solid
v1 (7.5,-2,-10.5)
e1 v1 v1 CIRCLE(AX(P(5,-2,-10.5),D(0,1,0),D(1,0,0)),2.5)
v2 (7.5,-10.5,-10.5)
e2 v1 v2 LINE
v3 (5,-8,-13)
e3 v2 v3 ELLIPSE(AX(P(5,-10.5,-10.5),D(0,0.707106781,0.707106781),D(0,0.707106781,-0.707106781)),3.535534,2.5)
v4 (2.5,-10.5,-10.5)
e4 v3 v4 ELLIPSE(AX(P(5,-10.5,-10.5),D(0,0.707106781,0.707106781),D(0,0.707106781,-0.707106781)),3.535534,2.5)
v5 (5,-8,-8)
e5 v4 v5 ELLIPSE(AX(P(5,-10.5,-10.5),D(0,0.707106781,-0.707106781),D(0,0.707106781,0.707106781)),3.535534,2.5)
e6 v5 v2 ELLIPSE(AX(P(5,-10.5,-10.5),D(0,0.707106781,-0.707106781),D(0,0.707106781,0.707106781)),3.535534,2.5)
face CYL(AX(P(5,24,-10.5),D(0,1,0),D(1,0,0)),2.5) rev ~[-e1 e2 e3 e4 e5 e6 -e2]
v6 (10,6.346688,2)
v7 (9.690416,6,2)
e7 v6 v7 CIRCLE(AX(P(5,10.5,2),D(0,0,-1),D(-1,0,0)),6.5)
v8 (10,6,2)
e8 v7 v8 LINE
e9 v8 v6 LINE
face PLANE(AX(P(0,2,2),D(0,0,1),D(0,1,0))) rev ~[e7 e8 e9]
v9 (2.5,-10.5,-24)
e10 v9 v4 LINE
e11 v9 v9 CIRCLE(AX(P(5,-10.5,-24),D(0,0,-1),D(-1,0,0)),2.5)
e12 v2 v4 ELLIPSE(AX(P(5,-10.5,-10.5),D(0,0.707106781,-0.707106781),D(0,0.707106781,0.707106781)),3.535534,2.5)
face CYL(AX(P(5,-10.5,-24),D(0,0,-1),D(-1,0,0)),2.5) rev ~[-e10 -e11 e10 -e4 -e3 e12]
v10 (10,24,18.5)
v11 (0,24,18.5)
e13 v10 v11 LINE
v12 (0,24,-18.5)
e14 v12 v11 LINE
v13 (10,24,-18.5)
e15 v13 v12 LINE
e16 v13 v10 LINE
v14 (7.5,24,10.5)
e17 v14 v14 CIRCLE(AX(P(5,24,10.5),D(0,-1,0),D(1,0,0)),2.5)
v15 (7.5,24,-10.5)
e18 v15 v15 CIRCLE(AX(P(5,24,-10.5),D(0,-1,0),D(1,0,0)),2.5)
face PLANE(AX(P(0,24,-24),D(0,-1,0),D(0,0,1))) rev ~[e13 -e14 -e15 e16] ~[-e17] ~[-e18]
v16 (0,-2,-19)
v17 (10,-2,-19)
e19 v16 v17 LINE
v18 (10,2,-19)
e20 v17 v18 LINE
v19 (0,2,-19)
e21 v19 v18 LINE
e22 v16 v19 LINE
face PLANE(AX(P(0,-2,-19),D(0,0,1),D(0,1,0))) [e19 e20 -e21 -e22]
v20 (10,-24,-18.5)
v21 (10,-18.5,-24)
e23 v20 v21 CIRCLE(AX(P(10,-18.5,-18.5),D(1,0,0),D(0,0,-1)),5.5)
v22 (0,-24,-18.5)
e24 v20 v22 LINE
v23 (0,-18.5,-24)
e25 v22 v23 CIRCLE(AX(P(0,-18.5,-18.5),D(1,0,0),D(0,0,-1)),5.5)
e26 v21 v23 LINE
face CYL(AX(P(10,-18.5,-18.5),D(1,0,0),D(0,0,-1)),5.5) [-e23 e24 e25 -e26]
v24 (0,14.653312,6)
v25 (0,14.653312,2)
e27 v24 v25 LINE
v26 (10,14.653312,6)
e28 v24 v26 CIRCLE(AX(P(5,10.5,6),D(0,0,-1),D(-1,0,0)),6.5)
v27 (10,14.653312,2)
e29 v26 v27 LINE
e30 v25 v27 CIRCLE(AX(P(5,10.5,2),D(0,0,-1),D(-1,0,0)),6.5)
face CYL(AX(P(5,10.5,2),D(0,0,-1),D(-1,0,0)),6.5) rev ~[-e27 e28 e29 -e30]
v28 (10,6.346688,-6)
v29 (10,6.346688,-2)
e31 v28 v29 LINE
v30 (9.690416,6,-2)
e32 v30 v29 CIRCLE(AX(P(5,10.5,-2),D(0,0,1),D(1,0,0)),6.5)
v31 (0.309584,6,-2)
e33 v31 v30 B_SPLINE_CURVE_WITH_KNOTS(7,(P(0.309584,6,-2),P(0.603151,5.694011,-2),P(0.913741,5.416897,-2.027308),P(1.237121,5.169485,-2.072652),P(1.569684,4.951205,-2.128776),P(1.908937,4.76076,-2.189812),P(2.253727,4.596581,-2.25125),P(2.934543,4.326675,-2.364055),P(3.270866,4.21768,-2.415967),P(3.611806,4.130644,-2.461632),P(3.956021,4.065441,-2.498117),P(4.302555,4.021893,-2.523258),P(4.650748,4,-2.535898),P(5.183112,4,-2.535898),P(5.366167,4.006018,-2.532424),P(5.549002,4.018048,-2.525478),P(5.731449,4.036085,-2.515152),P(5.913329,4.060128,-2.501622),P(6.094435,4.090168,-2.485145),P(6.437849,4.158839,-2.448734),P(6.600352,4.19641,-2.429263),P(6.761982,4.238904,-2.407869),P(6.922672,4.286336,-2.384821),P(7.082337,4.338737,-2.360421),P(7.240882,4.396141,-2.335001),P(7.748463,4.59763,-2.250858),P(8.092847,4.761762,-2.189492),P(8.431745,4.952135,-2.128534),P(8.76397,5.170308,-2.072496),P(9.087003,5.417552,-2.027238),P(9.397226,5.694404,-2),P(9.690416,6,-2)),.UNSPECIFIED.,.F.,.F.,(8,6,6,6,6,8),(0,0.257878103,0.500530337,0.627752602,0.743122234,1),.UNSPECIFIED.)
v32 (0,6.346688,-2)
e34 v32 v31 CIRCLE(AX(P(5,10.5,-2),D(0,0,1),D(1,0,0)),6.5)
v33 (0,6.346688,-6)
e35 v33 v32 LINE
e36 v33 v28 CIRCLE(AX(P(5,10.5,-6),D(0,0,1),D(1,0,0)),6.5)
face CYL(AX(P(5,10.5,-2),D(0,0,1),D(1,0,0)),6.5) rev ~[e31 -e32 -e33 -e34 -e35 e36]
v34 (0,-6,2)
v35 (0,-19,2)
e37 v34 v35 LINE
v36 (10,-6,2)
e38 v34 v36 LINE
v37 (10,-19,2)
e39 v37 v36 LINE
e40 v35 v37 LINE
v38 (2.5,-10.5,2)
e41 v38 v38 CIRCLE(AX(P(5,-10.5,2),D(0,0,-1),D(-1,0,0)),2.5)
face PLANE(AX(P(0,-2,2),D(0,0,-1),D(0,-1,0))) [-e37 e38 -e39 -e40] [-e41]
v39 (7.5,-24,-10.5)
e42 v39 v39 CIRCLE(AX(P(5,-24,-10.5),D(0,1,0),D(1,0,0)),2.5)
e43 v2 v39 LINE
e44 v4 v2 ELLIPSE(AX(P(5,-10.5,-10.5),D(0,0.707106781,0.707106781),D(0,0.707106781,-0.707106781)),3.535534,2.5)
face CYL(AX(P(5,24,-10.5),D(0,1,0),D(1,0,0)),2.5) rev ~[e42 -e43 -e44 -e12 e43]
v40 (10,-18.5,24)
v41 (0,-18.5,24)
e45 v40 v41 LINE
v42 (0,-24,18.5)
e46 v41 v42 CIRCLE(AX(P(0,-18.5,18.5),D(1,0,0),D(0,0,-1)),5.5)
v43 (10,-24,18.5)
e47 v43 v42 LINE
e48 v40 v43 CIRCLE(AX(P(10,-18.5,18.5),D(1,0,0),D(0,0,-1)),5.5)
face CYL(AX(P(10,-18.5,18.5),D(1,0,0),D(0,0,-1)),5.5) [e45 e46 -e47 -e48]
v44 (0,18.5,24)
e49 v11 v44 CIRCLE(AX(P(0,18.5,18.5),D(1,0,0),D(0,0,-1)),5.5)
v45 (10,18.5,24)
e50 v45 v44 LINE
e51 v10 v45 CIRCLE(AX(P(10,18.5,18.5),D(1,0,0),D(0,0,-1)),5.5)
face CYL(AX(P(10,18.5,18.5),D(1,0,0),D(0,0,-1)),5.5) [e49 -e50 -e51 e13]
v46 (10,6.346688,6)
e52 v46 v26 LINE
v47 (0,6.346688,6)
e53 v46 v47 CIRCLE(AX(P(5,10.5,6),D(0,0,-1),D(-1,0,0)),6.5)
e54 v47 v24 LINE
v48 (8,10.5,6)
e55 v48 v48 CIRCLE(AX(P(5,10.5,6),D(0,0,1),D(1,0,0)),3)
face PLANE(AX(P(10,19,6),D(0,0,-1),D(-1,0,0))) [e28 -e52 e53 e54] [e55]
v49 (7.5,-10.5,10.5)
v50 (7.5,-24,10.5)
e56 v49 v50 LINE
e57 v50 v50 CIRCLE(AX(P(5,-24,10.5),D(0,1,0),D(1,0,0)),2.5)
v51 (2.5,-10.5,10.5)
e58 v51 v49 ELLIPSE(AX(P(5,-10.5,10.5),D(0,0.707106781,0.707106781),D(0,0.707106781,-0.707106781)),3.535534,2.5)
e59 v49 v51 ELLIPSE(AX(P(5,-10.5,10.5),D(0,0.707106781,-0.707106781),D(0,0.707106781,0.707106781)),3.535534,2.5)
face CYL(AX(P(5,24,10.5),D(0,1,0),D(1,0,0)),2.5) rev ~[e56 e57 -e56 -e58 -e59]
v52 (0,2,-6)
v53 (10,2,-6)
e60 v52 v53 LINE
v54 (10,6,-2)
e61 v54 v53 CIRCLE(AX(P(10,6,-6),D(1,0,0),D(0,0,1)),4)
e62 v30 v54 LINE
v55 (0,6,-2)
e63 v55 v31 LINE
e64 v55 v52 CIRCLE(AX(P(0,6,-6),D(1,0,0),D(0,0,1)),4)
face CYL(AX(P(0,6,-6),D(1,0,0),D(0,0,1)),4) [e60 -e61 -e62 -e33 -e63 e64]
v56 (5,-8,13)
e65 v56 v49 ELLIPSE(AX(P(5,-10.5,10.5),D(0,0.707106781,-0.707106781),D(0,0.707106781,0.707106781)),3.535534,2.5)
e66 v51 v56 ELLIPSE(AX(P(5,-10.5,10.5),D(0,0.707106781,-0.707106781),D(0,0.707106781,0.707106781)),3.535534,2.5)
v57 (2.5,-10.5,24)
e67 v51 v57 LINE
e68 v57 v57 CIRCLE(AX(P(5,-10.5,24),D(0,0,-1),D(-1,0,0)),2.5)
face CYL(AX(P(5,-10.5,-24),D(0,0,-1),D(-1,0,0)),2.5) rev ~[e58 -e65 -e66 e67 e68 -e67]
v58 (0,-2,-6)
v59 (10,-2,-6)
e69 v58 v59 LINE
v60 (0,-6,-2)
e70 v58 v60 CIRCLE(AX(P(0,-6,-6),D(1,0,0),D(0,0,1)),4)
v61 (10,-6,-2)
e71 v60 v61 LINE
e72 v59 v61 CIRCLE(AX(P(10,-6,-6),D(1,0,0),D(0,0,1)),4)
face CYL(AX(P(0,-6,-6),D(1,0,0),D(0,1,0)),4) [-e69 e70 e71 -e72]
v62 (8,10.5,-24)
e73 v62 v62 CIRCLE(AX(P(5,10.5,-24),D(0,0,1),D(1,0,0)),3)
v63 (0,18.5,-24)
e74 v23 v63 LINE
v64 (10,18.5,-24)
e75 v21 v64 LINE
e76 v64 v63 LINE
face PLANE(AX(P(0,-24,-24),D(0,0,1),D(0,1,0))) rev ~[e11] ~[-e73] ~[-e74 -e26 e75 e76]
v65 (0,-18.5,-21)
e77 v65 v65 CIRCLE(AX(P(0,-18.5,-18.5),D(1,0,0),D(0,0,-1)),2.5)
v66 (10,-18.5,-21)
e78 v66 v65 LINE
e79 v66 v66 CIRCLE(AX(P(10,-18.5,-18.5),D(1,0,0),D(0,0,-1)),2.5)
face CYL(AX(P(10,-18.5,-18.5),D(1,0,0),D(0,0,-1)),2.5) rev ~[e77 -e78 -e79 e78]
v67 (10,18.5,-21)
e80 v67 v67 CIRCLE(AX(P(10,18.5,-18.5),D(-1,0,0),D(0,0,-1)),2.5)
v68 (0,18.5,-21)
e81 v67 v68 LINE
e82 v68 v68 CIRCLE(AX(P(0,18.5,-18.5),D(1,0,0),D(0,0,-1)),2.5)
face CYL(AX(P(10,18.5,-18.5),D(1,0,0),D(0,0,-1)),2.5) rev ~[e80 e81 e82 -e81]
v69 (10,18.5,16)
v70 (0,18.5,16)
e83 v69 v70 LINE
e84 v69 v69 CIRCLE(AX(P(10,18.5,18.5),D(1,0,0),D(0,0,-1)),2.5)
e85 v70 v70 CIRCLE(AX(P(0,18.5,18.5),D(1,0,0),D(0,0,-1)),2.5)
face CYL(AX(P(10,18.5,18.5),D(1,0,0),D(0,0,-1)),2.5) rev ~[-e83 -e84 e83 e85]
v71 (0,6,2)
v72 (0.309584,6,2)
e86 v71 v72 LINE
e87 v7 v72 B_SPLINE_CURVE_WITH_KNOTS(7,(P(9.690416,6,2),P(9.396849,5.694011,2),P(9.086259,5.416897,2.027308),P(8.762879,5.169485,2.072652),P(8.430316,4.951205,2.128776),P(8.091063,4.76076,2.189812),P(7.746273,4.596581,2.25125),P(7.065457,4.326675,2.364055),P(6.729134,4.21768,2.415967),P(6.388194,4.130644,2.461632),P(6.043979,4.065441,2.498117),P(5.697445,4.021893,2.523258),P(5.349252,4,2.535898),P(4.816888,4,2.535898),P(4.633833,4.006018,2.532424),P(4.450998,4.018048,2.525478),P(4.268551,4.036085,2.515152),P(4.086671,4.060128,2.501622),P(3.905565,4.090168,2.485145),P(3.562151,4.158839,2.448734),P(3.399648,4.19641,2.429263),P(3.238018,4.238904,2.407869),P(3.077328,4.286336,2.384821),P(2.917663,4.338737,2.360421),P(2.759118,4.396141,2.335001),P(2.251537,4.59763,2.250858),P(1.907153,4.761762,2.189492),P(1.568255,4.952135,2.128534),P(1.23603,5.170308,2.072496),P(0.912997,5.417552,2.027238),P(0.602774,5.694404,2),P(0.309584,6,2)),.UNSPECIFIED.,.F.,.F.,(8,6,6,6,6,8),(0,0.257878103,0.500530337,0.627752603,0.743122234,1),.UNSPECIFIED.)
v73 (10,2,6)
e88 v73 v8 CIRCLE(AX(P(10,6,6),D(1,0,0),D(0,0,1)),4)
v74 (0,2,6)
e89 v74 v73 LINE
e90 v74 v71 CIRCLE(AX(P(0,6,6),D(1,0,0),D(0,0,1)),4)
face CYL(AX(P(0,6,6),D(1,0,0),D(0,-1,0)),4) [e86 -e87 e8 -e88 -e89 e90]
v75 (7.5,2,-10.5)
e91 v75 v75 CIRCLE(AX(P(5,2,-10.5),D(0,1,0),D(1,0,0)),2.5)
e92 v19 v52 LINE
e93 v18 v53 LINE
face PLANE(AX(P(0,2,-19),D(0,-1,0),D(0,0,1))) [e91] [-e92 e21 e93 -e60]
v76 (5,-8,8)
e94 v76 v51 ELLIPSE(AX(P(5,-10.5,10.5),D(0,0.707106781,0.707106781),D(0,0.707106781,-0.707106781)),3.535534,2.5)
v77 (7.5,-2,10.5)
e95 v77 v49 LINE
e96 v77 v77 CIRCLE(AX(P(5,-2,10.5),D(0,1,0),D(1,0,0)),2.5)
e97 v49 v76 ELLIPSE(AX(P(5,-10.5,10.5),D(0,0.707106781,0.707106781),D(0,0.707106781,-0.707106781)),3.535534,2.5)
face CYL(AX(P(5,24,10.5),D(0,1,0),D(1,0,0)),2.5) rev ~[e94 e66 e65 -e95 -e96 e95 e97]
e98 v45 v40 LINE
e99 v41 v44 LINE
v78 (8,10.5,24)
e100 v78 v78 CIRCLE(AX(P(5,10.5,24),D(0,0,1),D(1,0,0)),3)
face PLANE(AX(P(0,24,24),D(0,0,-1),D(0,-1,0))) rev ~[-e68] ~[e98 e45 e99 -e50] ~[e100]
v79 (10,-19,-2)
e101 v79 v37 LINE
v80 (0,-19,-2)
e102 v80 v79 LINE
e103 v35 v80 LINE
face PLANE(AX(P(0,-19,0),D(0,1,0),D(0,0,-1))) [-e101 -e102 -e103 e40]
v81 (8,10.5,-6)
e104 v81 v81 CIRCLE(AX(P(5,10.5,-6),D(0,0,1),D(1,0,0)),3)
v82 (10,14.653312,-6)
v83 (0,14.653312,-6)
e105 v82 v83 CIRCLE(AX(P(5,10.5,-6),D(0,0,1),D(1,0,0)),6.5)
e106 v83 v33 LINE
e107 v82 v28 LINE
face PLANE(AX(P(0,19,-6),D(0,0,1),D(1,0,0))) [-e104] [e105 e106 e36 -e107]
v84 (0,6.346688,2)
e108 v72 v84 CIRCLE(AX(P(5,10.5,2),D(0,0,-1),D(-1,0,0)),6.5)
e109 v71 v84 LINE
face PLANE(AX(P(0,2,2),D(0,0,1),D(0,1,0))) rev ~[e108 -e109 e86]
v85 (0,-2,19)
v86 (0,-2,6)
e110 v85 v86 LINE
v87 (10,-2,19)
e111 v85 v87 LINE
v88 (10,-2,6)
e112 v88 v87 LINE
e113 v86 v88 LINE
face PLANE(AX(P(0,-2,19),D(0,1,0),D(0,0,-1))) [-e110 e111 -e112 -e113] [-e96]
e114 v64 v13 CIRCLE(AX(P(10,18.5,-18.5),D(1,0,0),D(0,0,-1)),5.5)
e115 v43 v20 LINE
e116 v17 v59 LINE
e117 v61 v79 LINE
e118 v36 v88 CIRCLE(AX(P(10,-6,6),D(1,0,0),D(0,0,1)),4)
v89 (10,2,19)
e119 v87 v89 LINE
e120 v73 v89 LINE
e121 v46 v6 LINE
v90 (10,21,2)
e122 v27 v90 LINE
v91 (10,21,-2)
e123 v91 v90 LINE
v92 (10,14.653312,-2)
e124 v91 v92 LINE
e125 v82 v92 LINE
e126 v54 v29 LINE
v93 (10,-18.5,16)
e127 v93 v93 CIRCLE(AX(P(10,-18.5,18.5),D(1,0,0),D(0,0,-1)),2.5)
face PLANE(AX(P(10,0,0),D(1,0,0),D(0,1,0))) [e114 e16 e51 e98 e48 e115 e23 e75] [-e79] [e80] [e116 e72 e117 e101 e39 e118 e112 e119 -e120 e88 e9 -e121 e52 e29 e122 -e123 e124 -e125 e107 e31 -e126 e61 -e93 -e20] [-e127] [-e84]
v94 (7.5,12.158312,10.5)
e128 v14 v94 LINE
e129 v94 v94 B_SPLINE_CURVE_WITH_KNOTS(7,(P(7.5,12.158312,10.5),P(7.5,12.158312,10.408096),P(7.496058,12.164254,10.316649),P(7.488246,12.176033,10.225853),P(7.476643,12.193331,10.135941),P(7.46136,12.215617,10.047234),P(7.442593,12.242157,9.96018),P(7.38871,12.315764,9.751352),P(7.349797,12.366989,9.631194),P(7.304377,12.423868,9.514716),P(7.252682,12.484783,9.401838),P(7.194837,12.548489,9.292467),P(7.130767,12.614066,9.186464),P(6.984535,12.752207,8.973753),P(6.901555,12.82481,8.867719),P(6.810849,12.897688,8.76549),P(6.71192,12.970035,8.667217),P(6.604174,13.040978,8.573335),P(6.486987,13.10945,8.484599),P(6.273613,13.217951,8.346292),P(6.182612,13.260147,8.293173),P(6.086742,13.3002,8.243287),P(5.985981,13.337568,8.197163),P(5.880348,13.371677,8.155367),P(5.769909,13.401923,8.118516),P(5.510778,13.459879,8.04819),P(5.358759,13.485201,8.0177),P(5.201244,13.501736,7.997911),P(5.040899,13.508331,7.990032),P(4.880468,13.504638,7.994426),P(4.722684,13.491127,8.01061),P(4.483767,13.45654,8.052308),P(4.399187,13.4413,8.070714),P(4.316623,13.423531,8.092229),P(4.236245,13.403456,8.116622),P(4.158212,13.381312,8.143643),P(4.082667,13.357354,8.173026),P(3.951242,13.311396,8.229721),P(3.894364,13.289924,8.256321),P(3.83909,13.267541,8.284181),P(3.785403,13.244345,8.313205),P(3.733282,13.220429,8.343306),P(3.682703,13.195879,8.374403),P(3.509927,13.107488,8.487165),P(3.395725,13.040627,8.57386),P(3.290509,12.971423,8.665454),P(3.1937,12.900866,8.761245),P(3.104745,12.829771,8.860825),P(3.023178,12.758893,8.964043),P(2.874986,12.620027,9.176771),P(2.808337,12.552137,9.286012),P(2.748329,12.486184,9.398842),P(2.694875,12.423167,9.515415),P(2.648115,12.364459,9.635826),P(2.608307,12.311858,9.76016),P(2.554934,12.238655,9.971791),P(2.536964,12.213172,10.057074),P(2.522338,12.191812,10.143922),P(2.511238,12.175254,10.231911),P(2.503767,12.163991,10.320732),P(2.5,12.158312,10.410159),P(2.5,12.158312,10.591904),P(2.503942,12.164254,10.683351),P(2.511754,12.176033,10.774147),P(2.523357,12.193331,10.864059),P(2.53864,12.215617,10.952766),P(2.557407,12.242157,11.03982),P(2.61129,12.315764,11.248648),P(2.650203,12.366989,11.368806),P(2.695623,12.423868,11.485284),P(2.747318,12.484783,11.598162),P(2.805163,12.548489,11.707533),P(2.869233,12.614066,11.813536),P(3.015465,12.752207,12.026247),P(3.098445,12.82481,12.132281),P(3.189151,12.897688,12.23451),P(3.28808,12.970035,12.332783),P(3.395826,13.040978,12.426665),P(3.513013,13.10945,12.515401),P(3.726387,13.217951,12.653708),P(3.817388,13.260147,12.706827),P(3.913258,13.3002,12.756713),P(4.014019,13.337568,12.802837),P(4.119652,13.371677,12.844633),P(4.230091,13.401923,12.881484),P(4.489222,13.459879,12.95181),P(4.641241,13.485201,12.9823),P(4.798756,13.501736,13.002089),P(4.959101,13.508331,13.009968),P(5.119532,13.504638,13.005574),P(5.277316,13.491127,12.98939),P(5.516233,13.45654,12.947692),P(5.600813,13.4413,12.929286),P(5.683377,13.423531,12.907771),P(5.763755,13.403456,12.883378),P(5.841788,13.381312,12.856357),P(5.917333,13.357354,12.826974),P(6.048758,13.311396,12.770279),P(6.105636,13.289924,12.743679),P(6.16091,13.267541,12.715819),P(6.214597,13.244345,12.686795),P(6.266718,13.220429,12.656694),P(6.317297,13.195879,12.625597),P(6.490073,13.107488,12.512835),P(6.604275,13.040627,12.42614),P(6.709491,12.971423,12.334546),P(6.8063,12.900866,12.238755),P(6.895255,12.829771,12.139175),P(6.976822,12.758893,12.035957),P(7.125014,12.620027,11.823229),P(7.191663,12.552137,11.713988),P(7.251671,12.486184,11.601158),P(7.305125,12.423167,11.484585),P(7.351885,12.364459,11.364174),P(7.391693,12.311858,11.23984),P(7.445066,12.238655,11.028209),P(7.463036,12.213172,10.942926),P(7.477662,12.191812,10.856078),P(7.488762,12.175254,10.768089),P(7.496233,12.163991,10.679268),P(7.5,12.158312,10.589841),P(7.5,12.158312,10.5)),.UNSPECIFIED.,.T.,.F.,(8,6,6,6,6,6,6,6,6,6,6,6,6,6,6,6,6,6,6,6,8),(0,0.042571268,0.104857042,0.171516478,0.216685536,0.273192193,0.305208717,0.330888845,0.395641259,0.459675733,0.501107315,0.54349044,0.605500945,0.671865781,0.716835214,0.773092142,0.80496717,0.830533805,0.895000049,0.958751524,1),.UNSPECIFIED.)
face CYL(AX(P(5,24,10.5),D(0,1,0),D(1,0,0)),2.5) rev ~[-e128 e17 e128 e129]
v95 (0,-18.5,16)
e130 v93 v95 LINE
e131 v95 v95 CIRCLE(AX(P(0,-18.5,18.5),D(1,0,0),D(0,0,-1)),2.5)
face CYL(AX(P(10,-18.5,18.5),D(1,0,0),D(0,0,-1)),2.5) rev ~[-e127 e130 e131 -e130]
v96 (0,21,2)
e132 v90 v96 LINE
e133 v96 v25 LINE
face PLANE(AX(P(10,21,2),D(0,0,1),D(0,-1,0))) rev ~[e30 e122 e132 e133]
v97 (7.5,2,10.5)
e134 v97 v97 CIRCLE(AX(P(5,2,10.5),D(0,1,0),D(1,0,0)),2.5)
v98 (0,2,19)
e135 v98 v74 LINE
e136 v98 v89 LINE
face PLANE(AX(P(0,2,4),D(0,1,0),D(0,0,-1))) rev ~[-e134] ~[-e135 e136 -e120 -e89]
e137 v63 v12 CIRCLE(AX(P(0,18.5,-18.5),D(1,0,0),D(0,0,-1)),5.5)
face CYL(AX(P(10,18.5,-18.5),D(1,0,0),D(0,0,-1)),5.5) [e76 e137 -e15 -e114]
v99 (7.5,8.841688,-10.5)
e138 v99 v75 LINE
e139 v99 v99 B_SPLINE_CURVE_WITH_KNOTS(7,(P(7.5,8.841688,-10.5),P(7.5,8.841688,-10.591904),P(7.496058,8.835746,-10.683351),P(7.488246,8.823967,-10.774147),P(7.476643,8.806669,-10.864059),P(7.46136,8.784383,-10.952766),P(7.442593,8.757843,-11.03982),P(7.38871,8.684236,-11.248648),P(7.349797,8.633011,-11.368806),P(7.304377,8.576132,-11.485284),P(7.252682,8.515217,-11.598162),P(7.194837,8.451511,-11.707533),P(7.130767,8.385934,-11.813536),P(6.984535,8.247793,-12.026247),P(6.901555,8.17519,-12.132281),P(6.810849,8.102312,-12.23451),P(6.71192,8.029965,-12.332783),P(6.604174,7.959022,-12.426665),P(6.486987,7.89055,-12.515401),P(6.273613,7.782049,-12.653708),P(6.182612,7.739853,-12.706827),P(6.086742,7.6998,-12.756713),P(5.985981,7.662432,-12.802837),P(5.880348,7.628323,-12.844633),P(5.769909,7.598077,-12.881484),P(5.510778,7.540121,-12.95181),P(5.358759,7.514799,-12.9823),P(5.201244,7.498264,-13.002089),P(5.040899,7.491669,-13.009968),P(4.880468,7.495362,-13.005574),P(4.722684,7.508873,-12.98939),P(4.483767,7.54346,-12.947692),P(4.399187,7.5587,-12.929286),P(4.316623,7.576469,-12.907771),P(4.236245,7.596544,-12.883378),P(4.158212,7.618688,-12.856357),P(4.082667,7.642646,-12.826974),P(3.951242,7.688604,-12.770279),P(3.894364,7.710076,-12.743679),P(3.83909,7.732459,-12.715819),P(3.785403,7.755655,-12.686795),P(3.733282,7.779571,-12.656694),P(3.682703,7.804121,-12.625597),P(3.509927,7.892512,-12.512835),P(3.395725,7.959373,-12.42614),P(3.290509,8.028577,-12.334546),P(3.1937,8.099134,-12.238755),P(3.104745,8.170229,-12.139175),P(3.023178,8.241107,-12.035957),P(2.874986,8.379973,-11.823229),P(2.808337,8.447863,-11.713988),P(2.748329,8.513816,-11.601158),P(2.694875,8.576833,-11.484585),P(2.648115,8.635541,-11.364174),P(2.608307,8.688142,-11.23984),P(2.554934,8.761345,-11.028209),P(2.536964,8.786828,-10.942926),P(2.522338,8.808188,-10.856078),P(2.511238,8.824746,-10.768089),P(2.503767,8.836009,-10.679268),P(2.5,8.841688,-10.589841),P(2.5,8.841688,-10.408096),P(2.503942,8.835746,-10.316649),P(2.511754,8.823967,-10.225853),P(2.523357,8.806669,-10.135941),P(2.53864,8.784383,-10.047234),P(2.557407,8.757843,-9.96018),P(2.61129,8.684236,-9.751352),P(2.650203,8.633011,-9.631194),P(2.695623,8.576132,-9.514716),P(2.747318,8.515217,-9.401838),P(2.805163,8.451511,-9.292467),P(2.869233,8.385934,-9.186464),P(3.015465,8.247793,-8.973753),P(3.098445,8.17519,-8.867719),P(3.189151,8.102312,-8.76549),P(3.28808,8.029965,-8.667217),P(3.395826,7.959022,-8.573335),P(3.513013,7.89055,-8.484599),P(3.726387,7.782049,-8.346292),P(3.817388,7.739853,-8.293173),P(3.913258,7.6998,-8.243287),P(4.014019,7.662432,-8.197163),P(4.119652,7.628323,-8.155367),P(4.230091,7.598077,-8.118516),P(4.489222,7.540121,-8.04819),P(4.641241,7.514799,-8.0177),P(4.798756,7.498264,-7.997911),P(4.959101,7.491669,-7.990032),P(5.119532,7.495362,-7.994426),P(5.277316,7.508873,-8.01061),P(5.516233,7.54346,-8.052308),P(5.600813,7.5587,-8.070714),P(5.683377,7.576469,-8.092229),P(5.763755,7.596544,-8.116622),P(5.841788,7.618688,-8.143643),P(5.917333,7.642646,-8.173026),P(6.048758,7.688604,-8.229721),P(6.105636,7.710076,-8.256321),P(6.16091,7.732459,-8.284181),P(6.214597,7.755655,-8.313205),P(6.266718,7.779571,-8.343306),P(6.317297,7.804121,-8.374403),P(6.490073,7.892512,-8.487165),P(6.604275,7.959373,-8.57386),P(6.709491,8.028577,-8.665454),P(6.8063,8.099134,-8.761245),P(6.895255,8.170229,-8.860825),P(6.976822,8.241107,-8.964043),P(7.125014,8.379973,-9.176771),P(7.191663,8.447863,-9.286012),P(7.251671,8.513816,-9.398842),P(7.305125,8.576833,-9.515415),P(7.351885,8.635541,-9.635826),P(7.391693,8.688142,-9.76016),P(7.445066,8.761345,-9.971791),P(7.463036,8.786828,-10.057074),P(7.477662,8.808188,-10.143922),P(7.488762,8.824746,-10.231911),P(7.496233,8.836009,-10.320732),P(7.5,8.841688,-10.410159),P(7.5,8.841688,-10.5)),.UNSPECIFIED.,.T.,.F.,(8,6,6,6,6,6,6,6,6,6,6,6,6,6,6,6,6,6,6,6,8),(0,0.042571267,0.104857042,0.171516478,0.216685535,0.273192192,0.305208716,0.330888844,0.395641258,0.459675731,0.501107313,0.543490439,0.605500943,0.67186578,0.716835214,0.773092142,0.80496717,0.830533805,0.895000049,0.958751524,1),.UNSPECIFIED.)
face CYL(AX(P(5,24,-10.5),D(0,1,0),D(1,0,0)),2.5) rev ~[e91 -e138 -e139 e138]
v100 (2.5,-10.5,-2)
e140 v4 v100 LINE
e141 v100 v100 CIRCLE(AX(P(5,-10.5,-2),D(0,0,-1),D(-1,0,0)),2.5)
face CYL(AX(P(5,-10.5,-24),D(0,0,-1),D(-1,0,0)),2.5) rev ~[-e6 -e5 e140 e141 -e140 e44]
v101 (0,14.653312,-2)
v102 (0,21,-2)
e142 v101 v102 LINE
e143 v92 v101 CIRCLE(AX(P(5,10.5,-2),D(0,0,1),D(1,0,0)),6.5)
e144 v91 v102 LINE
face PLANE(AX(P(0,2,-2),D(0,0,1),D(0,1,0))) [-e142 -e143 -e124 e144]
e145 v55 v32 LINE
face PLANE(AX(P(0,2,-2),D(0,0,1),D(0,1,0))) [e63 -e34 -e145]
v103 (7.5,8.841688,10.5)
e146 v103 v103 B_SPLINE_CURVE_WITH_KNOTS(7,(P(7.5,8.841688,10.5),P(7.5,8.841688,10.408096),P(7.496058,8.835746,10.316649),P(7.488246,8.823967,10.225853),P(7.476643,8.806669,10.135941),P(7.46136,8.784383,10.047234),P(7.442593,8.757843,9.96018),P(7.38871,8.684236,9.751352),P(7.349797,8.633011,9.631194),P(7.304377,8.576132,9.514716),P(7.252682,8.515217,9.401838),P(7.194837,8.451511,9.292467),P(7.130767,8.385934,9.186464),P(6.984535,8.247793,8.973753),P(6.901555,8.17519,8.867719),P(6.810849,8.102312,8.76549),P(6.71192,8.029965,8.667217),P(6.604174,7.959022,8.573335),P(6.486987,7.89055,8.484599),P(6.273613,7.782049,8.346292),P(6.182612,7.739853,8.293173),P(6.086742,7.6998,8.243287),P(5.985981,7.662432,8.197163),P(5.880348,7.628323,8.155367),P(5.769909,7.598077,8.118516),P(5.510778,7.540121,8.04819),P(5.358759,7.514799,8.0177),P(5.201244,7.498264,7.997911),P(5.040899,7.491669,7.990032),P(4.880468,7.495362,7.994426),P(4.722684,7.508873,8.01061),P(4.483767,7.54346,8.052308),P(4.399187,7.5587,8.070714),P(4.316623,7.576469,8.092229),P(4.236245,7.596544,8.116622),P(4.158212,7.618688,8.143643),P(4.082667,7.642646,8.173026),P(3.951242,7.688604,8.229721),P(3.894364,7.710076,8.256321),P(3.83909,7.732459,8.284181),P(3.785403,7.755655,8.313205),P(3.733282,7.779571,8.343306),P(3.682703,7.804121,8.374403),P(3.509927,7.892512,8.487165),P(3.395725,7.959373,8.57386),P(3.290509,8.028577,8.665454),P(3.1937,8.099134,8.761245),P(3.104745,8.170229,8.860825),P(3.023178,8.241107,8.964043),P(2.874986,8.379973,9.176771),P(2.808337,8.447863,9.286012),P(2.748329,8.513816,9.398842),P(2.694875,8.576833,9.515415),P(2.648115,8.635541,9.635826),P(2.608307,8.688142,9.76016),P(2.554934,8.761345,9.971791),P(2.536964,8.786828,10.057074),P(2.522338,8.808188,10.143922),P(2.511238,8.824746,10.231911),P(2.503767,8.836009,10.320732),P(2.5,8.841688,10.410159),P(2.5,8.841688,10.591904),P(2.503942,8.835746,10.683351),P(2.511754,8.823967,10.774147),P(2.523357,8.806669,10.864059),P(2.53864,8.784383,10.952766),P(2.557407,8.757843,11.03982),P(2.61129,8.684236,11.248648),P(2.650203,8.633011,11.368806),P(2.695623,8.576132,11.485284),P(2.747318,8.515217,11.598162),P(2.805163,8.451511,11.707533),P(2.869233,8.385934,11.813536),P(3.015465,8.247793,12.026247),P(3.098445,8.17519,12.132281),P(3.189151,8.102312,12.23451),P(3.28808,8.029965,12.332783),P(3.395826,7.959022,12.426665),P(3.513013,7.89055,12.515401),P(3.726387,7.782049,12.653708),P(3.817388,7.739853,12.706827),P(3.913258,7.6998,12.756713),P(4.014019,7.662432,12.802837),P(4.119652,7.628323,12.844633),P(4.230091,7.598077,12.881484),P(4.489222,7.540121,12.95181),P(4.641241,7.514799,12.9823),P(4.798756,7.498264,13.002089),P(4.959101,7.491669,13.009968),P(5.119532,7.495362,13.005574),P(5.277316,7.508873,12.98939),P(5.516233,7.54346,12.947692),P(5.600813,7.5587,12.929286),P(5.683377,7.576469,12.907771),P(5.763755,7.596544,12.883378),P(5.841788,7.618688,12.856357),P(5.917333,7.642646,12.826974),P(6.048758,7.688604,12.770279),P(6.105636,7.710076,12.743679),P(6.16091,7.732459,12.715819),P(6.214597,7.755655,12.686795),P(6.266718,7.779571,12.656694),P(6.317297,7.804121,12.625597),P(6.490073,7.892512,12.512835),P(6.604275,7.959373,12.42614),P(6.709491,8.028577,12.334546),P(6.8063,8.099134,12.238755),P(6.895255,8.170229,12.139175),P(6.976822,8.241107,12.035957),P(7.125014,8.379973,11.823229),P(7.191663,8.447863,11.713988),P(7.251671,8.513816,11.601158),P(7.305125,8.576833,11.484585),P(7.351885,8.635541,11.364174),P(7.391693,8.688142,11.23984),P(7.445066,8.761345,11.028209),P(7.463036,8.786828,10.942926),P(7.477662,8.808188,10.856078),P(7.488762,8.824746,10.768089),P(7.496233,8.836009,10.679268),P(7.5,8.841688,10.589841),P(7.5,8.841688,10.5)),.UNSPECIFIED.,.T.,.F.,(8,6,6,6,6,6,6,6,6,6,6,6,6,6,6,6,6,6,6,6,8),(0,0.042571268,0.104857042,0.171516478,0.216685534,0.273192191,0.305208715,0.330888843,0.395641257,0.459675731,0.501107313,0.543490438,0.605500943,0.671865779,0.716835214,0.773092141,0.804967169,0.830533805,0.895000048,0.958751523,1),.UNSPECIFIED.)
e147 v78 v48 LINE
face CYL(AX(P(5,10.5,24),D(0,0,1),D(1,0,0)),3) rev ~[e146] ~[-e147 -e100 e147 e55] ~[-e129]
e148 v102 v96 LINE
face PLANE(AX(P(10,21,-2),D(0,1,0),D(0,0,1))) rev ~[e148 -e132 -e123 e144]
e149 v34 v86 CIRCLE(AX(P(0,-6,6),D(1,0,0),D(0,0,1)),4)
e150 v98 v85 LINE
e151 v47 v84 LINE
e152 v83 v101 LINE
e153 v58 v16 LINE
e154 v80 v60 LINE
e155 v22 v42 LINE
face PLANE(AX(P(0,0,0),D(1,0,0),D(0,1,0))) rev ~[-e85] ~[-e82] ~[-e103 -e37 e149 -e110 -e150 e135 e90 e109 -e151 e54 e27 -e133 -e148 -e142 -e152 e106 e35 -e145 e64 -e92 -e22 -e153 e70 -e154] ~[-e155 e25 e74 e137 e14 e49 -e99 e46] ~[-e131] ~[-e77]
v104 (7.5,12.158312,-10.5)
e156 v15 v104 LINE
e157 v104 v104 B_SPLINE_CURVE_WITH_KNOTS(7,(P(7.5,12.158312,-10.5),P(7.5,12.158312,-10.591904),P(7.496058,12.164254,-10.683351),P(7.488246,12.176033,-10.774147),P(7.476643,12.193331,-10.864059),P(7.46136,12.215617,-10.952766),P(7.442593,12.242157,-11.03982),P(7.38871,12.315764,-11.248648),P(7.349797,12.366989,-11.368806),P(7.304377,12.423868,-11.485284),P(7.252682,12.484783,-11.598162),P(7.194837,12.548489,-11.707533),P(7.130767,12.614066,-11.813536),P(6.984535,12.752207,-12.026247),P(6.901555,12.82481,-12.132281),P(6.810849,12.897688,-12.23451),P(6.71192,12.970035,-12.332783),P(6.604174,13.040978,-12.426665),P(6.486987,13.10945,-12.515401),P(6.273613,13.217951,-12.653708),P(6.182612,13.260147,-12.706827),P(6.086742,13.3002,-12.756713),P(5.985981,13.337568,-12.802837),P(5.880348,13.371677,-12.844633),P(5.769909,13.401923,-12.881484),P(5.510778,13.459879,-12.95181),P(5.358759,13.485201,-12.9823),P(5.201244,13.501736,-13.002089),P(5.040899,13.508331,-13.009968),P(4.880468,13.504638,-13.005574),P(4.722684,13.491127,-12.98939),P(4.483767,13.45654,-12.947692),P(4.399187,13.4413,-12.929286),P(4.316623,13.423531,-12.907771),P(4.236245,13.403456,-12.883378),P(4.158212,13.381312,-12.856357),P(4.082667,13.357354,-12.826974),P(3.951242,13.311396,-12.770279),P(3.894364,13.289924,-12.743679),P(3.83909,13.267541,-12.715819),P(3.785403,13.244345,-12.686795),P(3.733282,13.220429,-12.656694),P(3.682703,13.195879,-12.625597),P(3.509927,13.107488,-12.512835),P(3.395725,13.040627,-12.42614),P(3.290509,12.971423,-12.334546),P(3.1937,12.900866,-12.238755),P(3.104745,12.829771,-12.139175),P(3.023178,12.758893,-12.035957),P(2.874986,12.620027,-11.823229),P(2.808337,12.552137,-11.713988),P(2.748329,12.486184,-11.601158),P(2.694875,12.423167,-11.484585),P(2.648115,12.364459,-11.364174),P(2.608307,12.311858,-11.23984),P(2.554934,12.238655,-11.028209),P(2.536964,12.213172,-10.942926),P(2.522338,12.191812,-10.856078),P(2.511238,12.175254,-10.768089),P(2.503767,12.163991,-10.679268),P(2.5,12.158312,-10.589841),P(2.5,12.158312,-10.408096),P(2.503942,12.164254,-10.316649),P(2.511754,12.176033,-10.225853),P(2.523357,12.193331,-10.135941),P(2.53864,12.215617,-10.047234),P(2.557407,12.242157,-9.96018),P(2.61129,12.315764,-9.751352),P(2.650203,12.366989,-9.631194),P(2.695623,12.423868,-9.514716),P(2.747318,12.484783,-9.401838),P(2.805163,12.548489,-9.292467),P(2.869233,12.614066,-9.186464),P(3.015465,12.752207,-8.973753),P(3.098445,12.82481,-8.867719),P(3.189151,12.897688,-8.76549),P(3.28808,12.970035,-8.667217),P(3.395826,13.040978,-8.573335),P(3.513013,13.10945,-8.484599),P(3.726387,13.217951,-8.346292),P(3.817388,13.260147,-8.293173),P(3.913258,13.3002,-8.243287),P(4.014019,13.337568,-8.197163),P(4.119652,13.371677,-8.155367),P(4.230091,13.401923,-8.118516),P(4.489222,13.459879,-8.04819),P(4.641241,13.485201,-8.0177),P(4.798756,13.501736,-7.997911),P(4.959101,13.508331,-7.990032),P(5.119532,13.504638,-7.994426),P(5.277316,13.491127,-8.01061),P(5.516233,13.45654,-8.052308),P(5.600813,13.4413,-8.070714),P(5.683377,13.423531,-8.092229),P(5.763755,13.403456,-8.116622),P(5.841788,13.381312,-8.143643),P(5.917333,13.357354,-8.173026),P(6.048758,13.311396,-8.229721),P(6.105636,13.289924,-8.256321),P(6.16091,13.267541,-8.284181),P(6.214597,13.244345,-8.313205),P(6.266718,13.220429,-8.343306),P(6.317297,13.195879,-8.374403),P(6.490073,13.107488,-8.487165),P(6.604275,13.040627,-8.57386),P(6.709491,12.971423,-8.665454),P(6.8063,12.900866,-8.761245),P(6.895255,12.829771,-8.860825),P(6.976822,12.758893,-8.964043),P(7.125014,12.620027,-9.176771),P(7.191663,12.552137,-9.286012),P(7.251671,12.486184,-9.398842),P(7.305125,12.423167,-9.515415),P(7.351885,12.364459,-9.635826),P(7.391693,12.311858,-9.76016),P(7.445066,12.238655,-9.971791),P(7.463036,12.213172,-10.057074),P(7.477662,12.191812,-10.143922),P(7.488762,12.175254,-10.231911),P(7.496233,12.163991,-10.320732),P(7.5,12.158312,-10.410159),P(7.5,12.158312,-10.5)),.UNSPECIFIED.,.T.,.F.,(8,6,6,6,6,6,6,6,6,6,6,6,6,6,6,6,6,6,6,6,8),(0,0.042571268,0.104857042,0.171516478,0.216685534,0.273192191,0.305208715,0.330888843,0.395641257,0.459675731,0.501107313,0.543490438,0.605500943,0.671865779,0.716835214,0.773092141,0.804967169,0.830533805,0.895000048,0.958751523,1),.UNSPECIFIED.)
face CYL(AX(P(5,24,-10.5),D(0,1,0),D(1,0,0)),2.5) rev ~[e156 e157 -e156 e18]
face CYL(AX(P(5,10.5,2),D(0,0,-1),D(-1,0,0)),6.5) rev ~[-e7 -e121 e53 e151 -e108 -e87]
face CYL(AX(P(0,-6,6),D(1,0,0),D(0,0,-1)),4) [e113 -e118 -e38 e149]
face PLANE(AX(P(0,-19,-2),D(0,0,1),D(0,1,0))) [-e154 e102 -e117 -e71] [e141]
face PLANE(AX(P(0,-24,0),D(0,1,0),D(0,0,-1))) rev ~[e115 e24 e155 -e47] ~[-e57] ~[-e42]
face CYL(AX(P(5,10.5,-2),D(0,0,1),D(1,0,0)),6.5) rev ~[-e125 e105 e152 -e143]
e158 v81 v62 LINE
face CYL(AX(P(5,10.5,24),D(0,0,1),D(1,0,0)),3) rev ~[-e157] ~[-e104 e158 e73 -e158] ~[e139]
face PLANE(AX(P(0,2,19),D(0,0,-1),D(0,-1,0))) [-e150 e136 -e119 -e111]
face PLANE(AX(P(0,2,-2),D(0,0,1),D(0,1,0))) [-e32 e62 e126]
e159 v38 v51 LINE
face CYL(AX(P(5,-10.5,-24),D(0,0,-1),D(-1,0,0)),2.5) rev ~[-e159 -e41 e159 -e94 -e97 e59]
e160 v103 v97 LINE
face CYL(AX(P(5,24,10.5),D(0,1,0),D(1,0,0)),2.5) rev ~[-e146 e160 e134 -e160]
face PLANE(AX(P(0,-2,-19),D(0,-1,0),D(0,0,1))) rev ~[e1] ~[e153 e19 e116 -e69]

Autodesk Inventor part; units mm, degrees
ref_plane "YZ Plane" through (0, 0, 0) normal (1, 0, 0) x (0, 1, 0)
ref_plane "XZ Plane" through (0, 0, 0) normal (0, 1, 0) x (-1, 0, 0)
ref_plane "XY Plane" through (0, 0, 0) normal (0, 0, 1) x (1, 0, 0)
sketch "Sketch1" plane through (0, 0, 0) normal (1, 0, 0) x (0, 1, 0)
  circle A0 centre (0, 0) radius 2.8284
  line L0 (0, 0) -> (-2.8284, 0)
  line L1 (-2.8284, 0) -> (-2.8284, -2.8284)
  line L2 (-2.8284, -2.8284) -> (0, -2.8284)
  line L3 (0, -2.8284) -> (0, 0)
  line L4 (0, 0) -> (-2.8284, -2.8284)
  line L5 (2, 2) -> (-2, 2)
  line L6 (-2, 2) -> (-2, -2)
  line L7 (-2, -2) -> (2, -2)
  line L8 (2, -2) -> (2, 2)
  line L9 (2, 2) -> (-2, -2) construction
  line L10 (-2, 2) -> (2, -2) construction
  line L11 (2, 2) -> (-2, 2)
  line L12 (-2, 2) -> (-2, 4)
  line L13 (-2, 4) -> (2, 4)
  line L14 (2, 4) -> (2, 2)
  line L15 (0, 4) -> (0, 19)
  line L16 (-2, 2) -> (-4, 2)
  line L17 (-4, 2) -> (-4, -2)
  line L18 (-4, -2) -> (-2, -2)
  line L19 (-4, 0) -> (-19, 0)
  line L20 (19, -19) -> (19, 19)
  line L21 (19, 19) -> (-19, 19)
  line L22 (-19, 19) -> (-19, -19)
  line L23 (-19, -19) -> (19, -19)
  line L24 (19, -19) -> (-19, 19) construction
  line L25 (19, 19) -> (-19, -19) construction
  line L26 (0, 19) -> (0, 24)
  line L27 (-19, 0) -> (-24, 0)
  line L28 (24, -24) -> (24, 24)
  line L29 (24, 24) -> (-24, 24)
  line L30 (-24, 24) -> (-24, -24)
  line L31 (-24, -24) -> (24, -24)
  line L32 (24, -24) -> (-24, 24) construction
  line L33 (24, 24) -> (-24, -24) construction
  line L34 (-2, 2) -> (-19, 2)
  line L35 (-19, -2) -> (-2, -2)
  line L36 (-2, -2) -> (-2, 2)
  line L37 (-2, -2) -> (-19, -2)
  line L38 (-19, -2) -> (-19, -19)
  line L39 (-19, -19) -> (-2, -19)
  line L40 (-2, -19) -> (-2, -2)
  line L41 (2, -2) -> (19, -2)
  line L42 (19, -2) -> (19, -19)
  line L43 (19, -19) -> (2, -19)
  line L44 (2, -19) -> (2, -2)
  line L45 (2, 2) -> (19, 2)
  line L46 (19, 2) -> (19, 19)
  line L47 (19, 19) -> (2, 19)
  line L48 (2, 19) -> (2, 2)
  line L49 (-2, 2) -> (-19, 2)
  line L50 (-19, 2) -> (-19, 19)
  line L51 (-19, 19) -> (-2, 19)
  line L52 (-2, 19) -> (-2, 2)
  point P0 (-2, 19)
  point P1 (2, 4)
  point P2 (2, -19)
  point P3 (-2, -19)
  dimension "d0" = 4
  dimension "d1" = 2
  dimension "d5" = 15
  dimension "d6" = 2
  dimension "d7" = 15
  dimension "d8" = 2
  dimension "d9" = 0
  dimension "d10" = 5
  dimension "d11" = 5
  dimension "d12" = 15
  dimension "d13" = 22.6716
  dimension "d14" = 20
  dimension "d15" = 29.7321
extrude "Extrusion1" add sketch "Sketch1" along normal blind 10 contours L14 L48 L21 L20 L45 | L41 L20 L23 L44 | L16 L34 L22 L21 L52 L12 | L20 L21 L26 L29 L28 L31 L30 L27 L22 L23 | L40 L2 L4 | L4 L1 L18 | L40 L23 L22 L35 L18 L1 L2 | L21 L22 L27 L30 L29 L26
sketch "Sketch2" plane through (0, 24, 24) normal (0, 1, 0) x (1, 0, 0)
  line L0 (10, 0) -> (0, 0) projected
  line L1 (0, 0) -> (0, 48) projected
  line L2 (0, 48) -> (10, 48) projected
  line L3 (10, 48) -> (10, 0) projected
  line L4 (0, 48) -> (10, 48) projected
  line L5 (0, 48) -> (0, 34.5)
  line L6 (0, 34.5) -> (5, 34.5)
  circle A0 centre (5, 34.5) radius 2.5
  line L7 (0, 0) -> (0, 13.5)
  line L8 (0, 22) -> (0, 5) projected
  line L9 (0, 13.5) -> (5, 13.5)
  circle A1 centre (5, 13.5) radius 2.5
  point P0 (0, 24)
  dimension "d18" = 13.5
  dimension "d19" = 5
  dimension "d20" = 5
  dimension "d21" = 13.5
  dimension "d22" = 5
  dimension "d23" = 5
extrude "Extrusion2" cut sketch "Sketch2" against normal through all contours A0 | A1
sketch "Sketch3" plane through (0, -24, -24) normal (0, 0, -1) x (-1, 0, 0)
  line L0 (0, 0) -> (-10, 0) projected
  line L1 (0, 0) -> (0, 13.5)
  line L2 (0, 22) -> (0, 5) projected
  line L3 (0, 48) -> (-10, 48) projected
  line L4 (0, 48) -> (0, 34.5)
  line L5 (0, 0) -> (0, 48) projected
  line L6 (0, 34.5) -> (-5, 34.5)
  line L7 (0, 13.5) -> (-5, 13.5)
  circle A0 centre (-5, 13.5) radius 2.5
  circle A1 centre (-5, 34.5) radius 2.5
  point P0 (0, 24)
  dimension "d26" = 13.5
  dimension "d27" = 13.5
  dimension "d28" = 5
  dimension "d29" = 5
  dimension "d30" = 5
  dimension "d31" = 5
extrude "Extrusion3" cut sketch "Sketch3" against normal through all
fillet "Fillet1" radius 4 4 edges at (5, -2, 2) (5, 2, 2) (5, 2, -2) (5, -2, -2)
sketch "Sketch4" plane through (10, 0, 0) normal (1, 0, 0) x (0, 0, -1)
  line L0 (24, 24) -> (-24, 24) projected
  line L1 (24, 24) -> (18.5, 24)
  line L2 (18.5, 24) -> (18.5, 18.5)
  line L3 (18.5, 18.5) -> (24, 18.5)
  line L4 (24, 18.5) -> (24, 24)
  circle A0 centre (18.5, 18.5) radius 2.5
  circle A1 centre (18.5, 18.5) radius 5.5
  circle A2 centre (-18.5, 18.5) radius 5.5
  circle A3 centre (-18.5, 18.5) radius 2.5
  line L5 (-18.5, 24) -> (-24, 24)
  line L6 (-24, 24) -> (-24, 18.5)
  circle A4 centre (-18.5, -18.5) radius 5.5
  circle A5 centre (-18.5, -18.5) radius 2.5
  line L7 (-24, -18.5) -> (-24, -24)
  line L8 (-24, -24) -> (-18.5, -24)
  circle A6 centre (18.5, -18.5) radius 5.5
  circle A7 centre (18.5, -18.5) radius 2.5
  line L9 (18.5, -24) -> (24, -24)
  line L10 (24, -24) -> (24, -18.5)
  point P0 (0, 0)
  point P1 (-18.5, 24)
  dimension "d35" = 5.5
  dimension "d36" = 5.5
  dimension "d37" = 5
  dimension "d40" = 360
extrude "Extrusion4" cut sketch "Sketch4" against normal through all contours L4 A1 L0 | A2 L6 L0 | A0 L3 L2 | L2 L3 A0 | A3 | A4 L8 L7 | A5 | L10 L9 A6 | A7
sketch "Sketch5" plane through (0, -18.5, 24) normal (0, 0, 1) x (1, 0, 0)
  circle A0 centre (5, 29) radius 2.5 projected
  circle A1 centre (5, 29) radius 3
  point P0 (0, 18.5)
  dimension "d44" = 6
extrude "Extrusion5" cut sketch "Sketch5" against normal through all contours A0 | A1
sketch "Sketch6" plane through (0, 19, -2) normal (0, 0, 1) x (1, 0, 0)
  circle A0 centre (5, -8.5) radius 6.5 projected
  point P0 (0, -19)
extrude "Extrusion6" cut sketch "Sketch6" against normal blind 4
sketch "Sketch7" plane through (10, 19, 2) normal (0, 0, -1) x (-1, 0, 0)
  circle A0 centre (5, -8.5) radius 6.5 projected
  point P0 (10, -19)
extrude "Extrusion7" cut sketch "Sketch7" against normal blind 4
sketch "Sketch8" plane through (10, 0, 0) normal (1, 0, 0) x (0, 0, -1)
  line L0 (-2, 14.6533) -> (-2, 19) projected
  line L1 (-2, 19) -> (2, 19)
  line L2 (2, 19) -> (2, 21)
  line L3 (2, 21) -> (-2, 21)
  line L4 (-2, 21) -> (-2, 19)
  point P0 (0, 0)
  dimension "d51" = 2
extrude "Extrusion8" cut sketch "Sketch8" against normal through all
properties part number "guidance_block" material "PET Plastic"
